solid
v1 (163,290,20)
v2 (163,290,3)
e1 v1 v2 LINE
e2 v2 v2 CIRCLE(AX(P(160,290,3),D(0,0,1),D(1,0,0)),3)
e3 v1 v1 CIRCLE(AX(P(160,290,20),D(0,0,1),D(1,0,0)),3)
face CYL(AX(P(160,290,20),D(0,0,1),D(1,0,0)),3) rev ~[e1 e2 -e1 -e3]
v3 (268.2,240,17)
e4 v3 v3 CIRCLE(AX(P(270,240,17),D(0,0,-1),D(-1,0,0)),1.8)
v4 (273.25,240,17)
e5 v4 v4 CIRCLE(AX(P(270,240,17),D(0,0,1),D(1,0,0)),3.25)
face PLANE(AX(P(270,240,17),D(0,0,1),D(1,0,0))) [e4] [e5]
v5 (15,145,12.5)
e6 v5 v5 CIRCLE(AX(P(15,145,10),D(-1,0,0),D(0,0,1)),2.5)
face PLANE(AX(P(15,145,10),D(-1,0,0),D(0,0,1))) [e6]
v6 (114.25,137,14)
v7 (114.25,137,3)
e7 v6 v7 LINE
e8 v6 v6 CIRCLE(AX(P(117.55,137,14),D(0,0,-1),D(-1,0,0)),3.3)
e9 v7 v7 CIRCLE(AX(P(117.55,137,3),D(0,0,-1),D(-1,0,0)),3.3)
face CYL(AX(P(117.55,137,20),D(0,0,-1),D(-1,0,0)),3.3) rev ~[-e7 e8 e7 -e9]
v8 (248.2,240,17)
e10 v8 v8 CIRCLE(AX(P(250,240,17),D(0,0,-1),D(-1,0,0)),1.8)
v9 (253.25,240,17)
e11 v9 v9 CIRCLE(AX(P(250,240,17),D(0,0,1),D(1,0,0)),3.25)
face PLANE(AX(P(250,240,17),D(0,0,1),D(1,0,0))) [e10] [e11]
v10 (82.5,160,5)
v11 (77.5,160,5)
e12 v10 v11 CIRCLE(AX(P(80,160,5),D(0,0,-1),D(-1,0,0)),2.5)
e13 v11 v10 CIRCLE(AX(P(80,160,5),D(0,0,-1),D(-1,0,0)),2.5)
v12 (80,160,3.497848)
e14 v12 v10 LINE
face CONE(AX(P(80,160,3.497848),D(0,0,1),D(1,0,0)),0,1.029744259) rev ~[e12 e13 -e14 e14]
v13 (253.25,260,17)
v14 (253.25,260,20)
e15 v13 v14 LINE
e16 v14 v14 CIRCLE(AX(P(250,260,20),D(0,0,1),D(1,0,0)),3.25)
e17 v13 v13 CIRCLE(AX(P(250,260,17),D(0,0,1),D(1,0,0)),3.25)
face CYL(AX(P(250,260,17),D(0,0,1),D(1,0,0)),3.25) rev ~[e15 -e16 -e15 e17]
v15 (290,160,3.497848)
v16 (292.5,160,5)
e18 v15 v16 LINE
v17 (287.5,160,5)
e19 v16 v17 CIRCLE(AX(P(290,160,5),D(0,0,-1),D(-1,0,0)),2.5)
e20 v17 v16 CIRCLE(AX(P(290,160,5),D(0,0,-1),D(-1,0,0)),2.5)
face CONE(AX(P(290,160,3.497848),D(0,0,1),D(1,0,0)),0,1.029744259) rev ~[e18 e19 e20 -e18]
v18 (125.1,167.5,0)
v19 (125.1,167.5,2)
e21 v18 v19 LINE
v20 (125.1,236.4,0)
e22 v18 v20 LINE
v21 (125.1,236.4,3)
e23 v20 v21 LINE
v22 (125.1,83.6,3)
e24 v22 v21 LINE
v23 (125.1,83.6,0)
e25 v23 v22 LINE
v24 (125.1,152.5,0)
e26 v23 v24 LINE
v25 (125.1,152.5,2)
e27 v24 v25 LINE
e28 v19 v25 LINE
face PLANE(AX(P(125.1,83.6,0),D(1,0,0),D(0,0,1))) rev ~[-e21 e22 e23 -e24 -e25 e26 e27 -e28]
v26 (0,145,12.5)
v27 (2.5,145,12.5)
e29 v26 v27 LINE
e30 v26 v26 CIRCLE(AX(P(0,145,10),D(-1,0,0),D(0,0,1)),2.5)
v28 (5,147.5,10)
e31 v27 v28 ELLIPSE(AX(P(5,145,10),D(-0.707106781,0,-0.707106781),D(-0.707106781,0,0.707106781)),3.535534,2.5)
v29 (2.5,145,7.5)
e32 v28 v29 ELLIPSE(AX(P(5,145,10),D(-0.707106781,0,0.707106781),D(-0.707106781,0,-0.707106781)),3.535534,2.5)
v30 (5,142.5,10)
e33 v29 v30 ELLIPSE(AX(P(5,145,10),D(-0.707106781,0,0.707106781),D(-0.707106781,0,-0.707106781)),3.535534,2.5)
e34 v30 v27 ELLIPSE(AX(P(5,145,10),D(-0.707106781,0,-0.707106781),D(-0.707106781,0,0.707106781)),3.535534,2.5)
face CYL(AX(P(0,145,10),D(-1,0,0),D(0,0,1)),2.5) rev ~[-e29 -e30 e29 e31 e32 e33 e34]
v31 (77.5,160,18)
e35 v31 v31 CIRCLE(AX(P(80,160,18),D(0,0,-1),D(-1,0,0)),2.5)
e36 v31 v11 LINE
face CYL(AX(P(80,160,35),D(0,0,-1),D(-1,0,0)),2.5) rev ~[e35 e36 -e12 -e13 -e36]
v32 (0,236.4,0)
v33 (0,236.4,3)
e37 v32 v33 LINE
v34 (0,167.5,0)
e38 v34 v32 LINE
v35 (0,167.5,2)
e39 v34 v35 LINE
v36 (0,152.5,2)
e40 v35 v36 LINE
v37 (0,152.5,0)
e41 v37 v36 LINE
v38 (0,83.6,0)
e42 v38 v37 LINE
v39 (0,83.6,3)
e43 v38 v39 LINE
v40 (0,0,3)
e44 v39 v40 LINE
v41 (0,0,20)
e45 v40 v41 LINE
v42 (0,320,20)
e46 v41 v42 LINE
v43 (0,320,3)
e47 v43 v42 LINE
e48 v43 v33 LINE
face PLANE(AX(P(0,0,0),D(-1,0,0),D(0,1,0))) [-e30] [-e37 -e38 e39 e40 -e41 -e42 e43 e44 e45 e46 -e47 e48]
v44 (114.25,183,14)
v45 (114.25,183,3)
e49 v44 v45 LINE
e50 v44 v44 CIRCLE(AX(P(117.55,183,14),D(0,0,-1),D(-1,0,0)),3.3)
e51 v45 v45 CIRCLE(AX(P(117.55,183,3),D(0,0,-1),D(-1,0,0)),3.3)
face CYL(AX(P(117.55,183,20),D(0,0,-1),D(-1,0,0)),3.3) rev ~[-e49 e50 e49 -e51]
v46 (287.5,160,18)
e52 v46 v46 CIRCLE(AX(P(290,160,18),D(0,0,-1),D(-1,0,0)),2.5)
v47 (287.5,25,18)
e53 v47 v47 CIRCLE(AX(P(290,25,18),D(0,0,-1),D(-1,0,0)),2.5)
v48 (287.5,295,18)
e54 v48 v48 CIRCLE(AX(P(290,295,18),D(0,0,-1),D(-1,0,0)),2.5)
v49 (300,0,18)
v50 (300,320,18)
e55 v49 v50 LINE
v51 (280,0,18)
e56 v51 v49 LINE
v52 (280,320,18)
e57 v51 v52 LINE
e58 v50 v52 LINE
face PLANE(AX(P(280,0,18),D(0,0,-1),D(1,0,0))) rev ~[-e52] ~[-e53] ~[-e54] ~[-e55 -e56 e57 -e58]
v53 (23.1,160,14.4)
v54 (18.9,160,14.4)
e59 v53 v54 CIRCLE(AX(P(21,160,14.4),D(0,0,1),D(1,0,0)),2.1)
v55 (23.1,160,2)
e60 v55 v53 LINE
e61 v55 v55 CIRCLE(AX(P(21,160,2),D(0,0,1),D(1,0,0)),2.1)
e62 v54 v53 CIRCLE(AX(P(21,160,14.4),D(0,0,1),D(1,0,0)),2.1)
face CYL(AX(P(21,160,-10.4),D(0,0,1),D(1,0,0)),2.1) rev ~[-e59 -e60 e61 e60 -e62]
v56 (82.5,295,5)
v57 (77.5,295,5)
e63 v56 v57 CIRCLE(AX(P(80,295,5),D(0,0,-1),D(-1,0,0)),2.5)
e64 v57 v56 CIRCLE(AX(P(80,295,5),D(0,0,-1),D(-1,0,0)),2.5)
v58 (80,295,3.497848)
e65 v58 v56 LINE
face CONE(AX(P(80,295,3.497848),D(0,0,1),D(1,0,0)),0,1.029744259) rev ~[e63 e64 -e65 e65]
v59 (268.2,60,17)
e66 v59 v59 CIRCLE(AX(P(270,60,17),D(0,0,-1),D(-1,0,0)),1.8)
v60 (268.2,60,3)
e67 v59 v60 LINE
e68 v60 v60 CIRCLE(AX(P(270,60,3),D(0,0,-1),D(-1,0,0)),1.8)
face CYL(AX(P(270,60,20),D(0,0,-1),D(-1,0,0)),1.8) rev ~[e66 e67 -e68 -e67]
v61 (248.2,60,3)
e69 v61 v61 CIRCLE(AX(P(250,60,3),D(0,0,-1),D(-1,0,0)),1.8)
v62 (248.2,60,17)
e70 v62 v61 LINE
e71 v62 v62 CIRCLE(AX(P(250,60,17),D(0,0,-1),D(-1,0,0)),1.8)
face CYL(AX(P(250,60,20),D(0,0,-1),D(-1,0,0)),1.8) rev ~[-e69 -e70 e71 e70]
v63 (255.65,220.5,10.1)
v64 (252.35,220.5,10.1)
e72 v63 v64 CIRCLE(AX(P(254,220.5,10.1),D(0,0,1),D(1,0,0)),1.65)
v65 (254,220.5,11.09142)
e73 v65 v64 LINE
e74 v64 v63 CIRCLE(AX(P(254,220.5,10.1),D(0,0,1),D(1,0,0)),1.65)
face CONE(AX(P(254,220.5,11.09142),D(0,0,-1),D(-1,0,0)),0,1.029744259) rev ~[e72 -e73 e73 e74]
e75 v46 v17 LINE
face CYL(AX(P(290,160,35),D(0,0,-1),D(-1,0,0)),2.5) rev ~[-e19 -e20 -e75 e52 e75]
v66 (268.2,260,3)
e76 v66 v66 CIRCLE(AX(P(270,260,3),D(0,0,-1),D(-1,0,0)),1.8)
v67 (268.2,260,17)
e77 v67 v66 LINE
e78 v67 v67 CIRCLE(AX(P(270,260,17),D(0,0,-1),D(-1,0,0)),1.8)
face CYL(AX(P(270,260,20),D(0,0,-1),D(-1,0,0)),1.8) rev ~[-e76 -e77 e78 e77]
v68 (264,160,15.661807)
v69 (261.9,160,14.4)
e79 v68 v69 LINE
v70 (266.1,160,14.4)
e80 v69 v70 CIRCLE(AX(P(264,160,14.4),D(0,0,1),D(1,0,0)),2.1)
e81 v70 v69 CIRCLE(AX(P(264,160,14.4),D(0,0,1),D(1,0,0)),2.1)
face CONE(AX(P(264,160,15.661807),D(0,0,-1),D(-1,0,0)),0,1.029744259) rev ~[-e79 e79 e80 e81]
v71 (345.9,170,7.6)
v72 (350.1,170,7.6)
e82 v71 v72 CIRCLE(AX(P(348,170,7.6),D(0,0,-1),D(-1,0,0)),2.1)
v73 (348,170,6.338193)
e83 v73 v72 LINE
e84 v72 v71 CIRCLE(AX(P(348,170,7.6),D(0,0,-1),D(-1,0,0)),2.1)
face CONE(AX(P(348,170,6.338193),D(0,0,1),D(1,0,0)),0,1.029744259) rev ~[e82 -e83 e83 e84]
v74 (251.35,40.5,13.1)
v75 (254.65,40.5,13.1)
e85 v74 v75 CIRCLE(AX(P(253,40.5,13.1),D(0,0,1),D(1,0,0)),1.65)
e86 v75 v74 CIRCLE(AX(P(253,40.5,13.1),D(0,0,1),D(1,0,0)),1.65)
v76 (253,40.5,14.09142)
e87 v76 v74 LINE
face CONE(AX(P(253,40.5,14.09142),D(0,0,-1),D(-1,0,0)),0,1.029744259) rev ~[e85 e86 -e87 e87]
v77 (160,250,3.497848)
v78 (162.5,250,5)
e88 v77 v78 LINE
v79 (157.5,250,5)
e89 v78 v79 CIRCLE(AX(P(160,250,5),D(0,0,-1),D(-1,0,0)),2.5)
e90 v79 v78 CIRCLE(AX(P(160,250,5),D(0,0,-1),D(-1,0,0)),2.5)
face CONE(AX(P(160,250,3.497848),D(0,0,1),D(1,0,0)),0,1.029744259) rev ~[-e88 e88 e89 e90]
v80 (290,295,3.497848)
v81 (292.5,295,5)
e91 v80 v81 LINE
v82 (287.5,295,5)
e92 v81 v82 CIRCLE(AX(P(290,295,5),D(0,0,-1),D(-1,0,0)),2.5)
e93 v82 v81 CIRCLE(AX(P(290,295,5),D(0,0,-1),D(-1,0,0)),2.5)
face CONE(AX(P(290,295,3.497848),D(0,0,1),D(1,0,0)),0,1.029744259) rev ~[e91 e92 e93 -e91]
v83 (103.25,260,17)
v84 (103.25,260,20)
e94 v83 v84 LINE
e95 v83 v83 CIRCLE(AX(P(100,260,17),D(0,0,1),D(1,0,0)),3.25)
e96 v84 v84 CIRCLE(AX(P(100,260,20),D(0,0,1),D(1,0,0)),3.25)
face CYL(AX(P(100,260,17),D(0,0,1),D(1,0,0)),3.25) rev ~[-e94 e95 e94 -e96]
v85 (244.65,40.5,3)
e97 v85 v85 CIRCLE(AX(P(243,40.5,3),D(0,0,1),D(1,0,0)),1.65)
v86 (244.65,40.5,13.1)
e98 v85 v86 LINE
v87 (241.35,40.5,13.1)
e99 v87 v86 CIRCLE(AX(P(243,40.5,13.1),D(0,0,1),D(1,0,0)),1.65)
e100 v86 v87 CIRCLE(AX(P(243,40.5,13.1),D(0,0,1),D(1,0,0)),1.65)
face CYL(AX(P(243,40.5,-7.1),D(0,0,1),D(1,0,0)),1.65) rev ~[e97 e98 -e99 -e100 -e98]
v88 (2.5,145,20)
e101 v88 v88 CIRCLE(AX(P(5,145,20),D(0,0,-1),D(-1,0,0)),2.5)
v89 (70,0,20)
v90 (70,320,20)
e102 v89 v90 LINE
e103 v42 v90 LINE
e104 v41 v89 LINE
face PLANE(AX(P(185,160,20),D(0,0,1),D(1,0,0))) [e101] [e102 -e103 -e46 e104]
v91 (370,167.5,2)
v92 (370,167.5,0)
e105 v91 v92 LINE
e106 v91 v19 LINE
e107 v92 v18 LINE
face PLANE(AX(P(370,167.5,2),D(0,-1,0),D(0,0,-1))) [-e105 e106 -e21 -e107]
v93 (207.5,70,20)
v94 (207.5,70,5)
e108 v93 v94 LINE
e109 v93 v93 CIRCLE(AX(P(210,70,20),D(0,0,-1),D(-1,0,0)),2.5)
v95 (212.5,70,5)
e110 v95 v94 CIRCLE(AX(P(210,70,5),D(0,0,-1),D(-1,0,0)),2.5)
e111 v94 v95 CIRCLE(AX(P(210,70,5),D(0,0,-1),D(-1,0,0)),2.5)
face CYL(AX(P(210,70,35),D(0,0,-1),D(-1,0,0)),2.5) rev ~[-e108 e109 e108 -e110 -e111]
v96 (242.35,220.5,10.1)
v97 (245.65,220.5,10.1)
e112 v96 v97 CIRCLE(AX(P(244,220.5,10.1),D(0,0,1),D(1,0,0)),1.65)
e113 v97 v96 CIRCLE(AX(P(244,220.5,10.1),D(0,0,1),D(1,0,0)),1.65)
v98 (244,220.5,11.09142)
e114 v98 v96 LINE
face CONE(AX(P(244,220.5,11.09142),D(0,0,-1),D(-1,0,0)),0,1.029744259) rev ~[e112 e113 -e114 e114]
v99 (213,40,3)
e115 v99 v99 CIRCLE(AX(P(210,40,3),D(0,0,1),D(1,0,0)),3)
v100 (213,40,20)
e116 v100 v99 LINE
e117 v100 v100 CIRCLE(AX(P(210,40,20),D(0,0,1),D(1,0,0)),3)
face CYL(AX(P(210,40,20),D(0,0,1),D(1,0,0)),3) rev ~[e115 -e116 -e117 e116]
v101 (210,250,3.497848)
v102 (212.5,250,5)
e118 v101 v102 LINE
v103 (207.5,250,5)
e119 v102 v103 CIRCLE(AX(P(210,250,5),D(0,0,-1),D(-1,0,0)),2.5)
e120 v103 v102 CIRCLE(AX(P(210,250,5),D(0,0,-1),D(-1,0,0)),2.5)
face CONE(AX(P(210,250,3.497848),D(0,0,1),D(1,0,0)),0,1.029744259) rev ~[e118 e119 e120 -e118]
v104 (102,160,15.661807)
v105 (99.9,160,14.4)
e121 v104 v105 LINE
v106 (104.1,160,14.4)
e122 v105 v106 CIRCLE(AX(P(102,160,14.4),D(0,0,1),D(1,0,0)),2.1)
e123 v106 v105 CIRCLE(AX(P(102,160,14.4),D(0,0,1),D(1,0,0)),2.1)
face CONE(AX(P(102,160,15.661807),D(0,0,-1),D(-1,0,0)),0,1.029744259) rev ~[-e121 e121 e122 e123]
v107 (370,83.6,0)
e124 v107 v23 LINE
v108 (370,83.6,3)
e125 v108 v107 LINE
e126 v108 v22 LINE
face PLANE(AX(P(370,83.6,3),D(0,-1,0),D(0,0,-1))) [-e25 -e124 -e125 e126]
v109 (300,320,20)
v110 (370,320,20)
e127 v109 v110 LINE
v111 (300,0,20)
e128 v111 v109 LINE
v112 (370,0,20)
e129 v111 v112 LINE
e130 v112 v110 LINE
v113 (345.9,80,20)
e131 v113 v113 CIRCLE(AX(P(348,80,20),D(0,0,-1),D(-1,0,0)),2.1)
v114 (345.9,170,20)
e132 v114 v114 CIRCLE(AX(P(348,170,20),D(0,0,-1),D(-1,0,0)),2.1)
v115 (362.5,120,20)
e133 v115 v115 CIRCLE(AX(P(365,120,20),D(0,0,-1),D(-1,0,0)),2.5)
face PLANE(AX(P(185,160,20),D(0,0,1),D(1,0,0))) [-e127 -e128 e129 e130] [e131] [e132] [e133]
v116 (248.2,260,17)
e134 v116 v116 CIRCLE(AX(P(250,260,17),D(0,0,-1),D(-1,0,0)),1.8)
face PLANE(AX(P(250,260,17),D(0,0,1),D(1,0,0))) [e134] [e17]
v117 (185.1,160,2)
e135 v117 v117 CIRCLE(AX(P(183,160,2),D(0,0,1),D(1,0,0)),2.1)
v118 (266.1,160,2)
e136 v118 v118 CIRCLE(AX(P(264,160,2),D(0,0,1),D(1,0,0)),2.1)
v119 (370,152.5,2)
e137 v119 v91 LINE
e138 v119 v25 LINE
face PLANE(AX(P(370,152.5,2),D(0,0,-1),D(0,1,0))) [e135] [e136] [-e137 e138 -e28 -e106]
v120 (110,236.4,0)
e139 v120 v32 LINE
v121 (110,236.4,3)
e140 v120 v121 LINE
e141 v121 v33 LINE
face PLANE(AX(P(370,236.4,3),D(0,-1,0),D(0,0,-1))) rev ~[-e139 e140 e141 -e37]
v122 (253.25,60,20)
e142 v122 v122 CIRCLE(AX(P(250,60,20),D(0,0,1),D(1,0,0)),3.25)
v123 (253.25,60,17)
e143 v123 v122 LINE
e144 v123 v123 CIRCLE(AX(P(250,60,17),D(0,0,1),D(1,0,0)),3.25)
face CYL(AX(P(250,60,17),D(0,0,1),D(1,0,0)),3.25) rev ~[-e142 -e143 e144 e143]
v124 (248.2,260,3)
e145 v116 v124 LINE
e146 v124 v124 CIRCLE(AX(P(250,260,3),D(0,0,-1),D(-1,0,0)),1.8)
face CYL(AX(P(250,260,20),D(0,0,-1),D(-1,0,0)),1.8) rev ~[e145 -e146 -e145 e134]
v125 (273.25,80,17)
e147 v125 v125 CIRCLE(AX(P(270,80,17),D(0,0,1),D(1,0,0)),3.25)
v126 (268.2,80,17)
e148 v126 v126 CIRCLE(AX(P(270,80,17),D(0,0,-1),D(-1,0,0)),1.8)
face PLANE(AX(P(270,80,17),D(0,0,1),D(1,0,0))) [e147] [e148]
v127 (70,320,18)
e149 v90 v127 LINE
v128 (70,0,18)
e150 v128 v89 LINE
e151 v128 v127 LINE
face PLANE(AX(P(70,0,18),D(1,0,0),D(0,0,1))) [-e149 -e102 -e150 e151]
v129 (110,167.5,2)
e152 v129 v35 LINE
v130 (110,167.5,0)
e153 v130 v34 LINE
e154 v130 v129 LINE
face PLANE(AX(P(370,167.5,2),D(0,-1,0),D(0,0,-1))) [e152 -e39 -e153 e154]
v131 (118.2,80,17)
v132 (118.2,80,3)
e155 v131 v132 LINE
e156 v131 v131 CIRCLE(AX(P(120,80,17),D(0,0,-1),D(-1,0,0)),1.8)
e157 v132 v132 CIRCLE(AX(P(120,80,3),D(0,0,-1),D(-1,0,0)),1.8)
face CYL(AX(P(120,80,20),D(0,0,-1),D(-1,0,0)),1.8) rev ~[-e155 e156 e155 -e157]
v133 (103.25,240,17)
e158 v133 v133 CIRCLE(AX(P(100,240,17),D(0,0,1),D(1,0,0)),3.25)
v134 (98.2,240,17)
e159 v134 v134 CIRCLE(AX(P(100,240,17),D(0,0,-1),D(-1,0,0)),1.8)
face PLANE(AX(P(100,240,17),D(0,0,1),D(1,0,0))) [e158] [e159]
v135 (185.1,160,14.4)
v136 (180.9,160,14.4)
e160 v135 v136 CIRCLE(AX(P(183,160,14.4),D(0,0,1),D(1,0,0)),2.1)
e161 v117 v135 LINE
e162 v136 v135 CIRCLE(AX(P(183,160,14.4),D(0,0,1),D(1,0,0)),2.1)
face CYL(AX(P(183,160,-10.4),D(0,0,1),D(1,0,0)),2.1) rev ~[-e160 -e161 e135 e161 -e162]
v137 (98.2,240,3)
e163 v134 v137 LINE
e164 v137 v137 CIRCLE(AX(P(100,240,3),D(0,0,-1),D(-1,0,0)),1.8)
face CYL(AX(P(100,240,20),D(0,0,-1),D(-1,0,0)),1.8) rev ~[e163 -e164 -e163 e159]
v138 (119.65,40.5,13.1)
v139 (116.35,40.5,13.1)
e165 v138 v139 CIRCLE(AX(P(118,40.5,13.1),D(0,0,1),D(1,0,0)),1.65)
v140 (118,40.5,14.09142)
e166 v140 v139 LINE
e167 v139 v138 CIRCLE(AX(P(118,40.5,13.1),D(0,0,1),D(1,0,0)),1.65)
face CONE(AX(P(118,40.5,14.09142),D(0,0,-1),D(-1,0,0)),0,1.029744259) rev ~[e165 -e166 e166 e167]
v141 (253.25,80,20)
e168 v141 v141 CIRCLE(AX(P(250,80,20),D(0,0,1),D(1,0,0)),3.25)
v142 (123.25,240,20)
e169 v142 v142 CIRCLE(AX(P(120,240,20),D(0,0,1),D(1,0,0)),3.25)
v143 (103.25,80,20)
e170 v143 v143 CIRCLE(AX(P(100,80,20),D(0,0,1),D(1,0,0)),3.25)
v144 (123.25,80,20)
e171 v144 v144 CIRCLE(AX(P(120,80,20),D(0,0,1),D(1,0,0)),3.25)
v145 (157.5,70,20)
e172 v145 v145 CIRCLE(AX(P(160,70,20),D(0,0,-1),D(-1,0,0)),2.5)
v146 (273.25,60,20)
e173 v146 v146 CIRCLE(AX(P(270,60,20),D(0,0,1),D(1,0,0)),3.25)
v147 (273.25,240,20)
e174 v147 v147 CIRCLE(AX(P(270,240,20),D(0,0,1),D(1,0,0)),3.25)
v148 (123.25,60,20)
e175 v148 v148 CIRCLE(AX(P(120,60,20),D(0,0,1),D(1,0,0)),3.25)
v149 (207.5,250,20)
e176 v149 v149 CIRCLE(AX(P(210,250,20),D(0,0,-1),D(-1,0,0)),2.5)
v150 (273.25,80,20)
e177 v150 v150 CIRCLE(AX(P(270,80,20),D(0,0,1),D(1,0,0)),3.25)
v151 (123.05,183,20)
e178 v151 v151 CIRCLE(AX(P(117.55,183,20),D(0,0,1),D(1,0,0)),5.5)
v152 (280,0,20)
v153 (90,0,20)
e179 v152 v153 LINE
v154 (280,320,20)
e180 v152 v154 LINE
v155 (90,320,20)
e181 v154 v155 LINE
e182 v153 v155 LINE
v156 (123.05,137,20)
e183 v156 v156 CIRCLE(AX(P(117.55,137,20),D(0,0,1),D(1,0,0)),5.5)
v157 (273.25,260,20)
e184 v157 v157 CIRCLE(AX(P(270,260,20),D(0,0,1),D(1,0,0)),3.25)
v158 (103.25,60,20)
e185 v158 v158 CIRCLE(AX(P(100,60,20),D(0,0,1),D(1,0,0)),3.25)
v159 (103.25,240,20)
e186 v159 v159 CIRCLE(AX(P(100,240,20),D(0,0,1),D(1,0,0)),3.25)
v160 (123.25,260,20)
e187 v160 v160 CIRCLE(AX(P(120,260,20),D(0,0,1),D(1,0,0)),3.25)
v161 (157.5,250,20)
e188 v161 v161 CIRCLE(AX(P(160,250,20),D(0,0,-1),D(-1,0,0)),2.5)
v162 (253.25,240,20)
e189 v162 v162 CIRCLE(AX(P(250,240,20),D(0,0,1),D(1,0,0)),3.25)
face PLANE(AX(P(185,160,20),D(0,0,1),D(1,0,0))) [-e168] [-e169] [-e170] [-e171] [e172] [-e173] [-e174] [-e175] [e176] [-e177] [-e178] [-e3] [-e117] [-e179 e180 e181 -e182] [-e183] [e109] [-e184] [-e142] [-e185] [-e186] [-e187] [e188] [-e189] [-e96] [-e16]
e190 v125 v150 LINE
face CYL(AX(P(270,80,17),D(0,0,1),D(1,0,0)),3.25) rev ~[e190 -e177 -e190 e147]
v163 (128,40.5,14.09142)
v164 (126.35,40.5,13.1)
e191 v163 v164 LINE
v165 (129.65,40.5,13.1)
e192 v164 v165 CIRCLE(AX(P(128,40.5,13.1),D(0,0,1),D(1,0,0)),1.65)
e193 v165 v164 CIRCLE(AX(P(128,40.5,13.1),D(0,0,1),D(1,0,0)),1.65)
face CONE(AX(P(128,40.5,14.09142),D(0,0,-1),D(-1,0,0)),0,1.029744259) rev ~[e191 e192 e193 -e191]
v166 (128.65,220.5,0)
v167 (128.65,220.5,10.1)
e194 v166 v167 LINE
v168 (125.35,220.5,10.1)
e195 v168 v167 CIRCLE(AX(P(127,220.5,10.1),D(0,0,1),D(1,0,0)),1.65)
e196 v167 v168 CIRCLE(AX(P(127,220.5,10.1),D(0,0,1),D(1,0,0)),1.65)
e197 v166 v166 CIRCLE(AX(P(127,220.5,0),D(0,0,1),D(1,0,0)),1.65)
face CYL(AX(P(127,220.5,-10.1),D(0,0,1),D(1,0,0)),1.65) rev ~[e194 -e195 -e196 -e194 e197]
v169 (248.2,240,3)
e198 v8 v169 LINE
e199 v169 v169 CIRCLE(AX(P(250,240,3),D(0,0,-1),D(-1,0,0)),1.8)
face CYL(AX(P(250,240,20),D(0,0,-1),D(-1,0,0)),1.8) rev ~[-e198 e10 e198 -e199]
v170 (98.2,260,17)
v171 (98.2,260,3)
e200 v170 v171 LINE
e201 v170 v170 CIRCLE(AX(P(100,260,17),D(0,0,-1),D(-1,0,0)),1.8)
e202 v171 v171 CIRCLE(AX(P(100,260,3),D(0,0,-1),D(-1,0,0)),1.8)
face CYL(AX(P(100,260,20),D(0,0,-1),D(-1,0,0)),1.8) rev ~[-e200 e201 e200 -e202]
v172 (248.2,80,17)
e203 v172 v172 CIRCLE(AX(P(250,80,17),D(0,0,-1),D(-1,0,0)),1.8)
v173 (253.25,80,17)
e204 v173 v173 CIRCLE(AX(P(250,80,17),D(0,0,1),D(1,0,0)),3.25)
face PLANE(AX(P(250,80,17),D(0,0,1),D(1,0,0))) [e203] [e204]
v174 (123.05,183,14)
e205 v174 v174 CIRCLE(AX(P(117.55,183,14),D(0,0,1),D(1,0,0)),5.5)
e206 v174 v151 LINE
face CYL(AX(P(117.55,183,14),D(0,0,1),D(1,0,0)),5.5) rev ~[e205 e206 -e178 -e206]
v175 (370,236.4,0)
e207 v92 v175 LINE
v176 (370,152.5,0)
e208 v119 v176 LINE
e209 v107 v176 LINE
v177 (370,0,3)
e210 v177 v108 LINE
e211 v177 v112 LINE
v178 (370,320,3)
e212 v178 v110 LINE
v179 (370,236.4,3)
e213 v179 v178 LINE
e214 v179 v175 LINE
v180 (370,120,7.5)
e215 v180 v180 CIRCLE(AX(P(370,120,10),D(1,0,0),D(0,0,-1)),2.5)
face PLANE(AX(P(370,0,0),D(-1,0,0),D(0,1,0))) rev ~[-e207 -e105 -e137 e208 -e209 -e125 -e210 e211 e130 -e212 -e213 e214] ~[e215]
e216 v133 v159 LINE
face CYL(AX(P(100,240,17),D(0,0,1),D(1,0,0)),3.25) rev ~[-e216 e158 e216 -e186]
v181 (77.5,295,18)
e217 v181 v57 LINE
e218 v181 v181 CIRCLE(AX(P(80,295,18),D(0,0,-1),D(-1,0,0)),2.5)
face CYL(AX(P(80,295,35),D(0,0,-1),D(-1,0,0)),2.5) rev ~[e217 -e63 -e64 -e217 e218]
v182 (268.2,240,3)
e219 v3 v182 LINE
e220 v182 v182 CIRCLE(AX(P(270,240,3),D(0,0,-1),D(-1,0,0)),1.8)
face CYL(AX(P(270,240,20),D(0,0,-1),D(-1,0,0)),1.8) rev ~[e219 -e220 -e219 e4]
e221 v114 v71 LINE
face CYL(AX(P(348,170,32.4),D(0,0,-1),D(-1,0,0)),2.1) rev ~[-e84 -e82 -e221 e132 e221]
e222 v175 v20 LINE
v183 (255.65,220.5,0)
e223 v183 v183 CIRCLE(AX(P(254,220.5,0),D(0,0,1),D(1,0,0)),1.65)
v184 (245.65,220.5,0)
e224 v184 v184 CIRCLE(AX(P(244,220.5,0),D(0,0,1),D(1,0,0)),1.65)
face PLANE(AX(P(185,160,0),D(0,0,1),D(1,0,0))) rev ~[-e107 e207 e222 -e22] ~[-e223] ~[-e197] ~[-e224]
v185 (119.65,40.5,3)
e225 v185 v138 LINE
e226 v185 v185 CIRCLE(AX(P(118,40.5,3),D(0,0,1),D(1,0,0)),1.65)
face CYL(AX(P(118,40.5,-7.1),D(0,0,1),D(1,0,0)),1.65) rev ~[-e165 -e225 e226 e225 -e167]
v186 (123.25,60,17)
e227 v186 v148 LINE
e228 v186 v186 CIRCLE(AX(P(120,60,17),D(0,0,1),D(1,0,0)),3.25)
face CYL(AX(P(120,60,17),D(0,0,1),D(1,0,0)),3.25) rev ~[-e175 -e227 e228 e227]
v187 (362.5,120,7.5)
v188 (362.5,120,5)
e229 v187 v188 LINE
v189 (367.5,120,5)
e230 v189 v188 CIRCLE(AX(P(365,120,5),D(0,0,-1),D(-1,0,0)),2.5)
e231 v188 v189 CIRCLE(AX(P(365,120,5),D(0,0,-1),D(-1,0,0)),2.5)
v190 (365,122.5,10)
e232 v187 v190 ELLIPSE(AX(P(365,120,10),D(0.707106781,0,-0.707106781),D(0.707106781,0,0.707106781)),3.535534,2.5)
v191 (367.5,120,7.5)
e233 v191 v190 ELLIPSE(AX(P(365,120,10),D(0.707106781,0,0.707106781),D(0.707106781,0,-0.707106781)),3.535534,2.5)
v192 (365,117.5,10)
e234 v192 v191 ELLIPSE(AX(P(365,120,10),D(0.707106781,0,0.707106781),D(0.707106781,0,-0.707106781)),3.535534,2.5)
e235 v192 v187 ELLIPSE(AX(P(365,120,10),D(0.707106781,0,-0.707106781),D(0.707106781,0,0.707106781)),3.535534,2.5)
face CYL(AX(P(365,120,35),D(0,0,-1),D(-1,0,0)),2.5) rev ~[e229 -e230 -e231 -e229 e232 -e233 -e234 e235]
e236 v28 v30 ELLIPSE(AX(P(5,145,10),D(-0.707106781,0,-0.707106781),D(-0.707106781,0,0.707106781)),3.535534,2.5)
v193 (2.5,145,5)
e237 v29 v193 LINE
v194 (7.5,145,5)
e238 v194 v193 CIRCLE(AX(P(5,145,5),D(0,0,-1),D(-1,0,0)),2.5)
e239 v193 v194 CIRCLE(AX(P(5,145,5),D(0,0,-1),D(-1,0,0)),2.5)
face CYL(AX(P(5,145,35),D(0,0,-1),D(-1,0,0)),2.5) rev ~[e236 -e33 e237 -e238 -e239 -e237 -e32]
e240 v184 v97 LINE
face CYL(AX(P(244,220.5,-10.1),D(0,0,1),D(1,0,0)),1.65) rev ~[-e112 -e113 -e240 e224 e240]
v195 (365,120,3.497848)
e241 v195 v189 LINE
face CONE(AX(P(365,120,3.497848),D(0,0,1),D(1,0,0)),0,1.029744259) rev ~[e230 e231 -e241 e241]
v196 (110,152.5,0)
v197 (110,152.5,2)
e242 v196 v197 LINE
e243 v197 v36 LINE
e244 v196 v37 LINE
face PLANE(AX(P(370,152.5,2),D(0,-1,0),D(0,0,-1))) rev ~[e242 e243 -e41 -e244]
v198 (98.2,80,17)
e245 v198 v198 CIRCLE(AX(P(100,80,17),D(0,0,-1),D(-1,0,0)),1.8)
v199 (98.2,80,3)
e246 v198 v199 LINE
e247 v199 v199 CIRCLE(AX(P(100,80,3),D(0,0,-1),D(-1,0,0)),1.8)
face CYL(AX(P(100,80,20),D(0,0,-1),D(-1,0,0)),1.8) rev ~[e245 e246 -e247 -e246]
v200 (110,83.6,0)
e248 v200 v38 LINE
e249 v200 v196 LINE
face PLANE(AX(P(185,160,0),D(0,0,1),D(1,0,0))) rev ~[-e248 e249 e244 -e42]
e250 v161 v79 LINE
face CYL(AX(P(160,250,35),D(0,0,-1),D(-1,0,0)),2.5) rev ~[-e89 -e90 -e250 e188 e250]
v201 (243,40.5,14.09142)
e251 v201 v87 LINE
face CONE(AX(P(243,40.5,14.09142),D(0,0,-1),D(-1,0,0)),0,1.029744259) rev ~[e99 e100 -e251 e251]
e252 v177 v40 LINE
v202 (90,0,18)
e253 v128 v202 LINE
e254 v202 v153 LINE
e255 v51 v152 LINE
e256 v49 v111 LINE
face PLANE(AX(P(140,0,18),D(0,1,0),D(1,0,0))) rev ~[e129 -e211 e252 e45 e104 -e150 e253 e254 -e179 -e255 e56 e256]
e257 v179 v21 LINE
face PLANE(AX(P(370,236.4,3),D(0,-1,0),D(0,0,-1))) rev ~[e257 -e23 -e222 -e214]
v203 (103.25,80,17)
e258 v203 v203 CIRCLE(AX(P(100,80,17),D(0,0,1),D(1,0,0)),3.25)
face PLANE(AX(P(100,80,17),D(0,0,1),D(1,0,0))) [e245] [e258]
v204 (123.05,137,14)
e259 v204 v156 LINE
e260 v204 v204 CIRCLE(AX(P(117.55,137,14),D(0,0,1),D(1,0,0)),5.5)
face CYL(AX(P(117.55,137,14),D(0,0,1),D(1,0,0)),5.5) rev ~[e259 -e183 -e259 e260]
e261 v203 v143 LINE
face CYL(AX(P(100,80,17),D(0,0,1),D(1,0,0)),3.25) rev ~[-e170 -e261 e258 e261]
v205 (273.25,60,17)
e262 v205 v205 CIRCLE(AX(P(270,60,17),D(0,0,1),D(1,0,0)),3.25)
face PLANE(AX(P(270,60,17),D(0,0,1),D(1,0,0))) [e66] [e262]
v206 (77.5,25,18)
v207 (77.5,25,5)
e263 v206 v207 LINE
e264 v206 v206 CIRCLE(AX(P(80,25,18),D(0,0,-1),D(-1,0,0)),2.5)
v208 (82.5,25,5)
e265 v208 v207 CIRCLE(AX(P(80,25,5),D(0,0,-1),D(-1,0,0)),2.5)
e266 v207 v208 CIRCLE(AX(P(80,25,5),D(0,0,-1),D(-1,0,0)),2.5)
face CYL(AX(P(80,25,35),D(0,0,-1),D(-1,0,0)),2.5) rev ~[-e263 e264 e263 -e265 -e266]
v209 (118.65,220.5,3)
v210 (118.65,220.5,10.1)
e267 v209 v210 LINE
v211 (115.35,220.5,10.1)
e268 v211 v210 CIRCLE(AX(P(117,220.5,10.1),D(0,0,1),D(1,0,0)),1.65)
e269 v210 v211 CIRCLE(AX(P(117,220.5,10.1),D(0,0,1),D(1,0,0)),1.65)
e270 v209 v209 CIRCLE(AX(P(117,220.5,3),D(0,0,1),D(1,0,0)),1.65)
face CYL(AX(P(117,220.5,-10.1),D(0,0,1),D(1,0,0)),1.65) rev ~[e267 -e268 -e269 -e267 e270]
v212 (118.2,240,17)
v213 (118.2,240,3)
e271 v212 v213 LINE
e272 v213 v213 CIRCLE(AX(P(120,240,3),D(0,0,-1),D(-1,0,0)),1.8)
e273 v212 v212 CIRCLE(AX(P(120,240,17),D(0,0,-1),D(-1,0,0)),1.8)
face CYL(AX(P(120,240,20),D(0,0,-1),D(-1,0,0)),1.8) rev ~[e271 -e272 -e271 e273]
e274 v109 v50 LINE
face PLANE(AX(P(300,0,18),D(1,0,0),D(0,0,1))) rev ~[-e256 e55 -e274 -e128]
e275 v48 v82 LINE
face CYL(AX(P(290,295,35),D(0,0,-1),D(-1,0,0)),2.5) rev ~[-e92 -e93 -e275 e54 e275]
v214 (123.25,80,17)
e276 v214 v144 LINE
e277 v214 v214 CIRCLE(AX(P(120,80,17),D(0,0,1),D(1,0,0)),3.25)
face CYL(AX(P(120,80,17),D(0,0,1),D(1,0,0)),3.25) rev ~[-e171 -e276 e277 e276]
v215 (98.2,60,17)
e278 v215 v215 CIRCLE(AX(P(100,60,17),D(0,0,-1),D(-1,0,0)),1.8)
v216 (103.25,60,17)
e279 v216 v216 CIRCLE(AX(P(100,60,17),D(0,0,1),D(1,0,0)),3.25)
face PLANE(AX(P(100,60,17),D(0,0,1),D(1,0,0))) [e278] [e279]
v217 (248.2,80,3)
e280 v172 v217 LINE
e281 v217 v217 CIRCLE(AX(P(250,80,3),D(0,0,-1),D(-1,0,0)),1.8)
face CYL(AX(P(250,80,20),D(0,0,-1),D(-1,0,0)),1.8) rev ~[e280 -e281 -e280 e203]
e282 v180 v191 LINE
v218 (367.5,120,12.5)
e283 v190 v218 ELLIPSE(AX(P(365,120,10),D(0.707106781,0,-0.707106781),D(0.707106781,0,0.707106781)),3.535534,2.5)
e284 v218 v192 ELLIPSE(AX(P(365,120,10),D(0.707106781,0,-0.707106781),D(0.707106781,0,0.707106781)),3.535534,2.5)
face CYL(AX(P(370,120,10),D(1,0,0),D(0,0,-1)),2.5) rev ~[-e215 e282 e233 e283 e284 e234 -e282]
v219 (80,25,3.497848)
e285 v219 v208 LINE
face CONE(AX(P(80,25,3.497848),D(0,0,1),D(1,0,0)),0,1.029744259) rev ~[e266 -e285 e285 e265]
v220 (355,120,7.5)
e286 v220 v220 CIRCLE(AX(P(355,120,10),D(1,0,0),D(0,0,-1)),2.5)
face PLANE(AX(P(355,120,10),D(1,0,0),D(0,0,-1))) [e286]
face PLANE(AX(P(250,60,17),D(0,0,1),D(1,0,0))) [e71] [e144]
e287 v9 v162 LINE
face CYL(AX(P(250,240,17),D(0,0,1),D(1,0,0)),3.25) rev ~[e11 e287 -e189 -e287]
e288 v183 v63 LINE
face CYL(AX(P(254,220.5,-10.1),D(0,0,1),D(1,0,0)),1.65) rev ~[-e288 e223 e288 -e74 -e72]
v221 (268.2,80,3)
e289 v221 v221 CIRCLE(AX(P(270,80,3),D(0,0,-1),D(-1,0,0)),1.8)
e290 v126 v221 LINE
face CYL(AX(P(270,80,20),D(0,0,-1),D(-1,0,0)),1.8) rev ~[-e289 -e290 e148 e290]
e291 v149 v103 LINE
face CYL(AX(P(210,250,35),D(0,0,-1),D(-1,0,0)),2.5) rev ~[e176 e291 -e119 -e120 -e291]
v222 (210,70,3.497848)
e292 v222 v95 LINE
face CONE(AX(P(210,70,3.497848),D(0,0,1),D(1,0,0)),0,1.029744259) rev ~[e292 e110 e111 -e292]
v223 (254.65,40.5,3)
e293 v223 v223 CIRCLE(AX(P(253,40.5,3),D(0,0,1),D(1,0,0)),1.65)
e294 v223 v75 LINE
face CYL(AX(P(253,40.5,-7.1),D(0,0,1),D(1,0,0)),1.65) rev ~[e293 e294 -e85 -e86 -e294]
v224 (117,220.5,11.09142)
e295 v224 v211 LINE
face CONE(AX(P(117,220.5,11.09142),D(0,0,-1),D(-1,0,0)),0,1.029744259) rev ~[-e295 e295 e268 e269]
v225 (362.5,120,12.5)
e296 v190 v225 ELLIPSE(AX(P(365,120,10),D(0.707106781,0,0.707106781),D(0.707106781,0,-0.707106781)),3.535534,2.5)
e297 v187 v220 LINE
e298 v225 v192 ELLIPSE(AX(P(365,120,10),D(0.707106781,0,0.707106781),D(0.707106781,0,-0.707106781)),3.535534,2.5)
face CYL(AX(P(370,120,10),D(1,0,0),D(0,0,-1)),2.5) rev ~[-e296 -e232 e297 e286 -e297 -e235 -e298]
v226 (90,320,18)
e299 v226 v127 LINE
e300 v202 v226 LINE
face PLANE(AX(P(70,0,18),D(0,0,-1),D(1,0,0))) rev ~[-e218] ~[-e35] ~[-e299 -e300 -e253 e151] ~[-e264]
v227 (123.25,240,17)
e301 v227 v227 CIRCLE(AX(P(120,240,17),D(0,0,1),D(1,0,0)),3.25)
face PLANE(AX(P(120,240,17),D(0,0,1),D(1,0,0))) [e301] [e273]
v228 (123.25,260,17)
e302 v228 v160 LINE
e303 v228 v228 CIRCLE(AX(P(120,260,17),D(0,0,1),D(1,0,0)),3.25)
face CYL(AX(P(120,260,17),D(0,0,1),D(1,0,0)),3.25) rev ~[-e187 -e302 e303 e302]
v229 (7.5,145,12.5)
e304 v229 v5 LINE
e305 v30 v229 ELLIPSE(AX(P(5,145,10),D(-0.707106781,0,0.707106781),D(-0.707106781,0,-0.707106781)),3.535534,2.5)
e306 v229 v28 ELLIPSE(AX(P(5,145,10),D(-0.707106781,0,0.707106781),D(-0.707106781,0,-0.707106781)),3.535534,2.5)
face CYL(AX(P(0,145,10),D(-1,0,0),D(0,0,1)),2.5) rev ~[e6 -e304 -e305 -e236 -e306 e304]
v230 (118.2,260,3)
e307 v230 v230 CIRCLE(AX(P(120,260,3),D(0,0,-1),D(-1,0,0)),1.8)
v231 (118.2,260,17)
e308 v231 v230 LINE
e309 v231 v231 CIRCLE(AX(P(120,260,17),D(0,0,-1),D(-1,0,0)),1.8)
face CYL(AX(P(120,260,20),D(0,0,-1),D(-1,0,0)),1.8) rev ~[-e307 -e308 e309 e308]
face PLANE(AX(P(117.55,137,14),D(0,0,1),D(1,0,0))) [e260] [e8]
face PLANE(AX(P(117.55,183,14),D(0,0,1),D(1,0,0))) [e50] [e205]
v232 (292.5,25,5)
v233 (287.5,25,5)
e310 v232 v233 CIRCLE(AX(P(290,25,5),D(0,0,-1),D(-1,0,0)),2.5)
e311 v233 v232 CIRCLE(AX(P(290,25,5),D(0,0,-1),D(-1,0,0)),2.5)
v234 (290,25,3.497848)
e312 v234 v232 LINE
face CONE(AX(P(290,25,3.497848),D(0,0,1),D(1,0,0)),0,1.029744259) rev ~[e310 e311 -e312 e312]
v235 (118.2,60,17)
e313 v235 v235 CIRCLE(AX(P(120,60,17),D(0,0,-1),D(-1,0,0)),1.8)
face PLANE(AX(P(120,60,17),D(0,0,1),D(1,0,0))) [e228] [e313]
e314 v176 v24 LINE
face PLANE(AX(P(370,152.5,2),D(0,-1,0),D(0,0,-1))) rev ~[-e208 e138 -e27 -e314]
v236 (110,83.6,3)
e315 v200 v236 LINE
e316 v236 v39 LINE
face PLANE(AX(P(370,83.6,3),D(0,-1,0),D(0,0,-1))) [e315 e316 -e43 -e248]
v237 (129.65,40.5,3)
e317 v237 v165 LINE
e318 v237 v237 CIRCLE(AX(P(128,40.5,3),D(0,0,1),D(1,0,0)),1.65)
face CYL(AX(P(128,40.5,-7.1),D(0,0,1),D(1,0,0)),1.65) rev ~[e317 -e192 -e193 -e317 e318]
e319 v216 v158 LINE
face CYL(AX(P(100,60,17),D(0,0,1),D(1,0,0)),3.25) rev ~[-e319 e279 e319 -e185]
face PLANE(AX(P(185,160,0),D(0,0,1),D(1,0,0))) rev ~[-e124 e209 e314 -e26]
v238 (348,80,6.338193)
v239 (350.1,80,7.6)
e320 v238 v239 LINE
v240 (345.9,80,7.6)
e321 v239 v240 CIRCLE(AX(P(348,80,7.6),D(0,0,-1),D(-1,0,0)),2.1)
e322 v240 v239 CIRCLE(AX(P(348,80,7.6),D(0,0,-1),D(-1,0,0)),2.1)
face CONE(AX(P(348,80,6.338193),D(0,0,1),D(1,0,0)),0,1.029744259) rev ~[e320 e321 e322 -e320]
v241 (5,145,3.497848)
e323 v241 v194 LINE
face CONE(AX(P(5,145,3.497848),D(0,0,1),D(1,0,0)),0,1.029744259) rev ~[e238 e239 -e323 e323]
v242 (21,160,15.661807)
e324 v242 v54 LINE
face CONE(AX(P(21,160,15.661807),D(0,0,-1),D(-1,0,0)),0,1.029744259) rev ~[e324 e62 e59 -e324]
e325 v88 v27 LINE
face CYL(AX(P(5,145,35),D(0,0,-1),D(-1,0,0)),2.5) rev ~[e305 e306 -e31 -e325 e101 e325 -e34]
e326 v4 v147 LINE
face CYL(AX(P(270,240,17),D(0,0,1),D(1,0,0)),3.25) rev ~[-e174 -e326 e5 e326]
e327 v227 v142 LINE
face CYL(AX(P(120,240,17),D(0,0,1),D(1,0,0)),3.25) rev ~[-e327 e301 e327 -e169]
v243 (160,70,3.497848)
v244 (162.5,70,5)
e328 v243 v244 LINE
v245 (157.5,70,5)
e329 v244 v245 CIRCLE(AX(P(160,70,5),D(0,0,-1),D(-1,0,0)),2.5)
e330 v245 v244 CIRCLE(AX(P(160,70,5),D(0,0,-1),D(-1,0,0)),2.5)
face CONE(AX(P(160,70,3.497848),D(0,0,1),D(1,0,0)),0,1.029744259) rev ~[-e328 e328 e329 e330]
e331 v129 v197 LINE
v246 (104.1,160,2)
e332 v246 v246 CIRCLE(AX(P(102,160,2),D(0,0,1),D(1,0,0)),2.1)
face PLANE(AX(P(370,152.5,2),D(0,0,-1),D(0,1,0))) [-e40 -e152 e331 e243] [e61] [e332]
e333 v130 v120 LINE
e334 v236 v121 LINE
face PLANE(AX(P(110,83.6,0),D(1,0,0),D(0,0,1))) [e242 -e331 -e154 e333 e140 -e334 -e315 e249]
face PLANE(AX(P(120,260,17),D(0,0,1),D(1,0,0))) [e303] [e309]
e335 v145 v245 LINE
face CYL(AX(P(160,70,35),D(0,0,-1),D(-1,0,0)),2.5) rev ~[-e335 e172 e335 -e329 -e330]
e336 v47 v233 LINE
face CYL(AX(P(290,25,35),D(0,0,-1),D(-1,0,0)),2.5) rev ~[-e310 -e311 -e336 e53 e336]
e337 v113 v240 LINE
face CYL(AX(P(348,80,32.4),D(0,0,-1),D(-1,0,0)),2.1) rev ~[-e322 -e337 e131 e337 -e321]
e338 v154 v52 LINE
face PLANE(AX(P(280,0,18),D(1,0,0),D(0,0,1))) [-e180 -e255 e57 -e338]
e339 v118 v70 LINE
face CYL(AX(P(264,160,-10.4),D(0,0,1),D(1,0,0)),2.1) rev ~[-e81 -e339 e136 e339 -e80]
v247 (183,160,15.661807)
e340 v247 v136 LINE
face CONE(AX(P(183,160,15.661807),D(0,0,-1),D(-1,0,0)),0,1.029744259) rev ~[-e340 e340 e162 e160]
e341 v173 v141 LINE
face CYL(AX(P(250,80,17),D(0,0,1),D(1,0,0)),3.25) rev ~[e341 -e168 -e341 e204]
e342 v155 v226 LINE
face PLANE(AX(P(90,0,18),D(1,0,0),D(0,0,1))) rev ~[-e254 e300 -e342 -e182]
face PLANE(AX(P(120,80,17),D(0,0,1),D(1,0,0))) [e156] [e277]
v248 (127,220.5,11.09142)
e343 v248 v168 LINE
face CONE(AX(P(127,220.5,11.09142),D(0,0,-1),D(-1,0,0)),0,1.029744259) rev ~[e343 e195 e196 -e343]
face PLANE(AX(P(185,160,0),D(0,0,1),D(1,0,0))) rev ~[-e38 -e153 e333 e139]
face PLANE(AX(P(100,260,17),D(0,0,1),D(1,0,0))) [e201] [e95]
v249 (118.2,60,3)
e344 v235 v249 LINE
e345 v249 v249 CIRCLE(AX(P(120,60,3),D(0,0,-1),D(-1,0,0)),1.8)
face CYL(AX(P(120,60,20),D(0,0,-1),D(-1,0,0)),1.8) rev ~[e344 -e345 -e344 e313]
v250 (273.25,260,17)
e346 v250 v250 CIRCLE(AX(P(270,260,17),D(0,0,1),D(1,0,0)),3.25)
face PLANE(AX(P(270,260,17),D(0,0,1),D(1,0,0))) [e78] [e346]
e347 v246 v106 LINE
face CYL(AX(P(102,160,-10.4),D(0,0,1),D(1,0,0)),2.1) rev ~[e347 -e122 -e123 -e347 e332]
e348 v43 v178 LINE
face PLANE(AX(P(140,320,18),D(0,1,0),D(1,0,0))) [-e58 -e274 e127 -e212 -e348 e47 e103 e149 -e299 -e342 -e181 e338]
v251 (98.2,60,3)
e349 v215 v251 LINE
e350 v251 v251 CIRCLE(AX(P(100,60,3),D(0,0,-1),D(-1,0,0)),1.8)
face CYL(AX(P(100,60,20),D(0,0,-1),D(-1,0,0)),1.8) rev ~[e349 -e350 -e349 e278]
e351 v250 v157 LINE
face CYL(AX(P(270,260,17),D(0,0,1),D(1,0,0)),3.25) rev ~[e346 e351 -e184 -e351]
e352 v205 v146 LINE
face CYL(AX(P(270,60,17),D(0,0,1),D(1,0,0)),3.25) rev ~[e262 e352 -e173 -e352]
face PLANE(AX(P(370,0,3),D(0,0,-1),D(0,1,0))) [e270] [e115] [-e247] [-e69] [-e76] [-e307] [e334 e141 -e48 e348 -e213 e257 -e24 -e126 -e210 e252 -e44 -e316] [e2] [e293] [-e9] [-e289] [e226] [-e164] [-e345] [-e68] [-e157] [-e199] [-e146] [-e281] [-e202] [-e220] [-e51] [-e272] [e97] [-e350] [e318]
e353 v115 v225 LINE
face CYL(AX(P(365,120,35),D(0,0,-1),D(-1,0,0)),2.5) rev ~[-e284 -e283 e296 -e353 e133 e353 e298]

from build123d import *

# Parameters (mm, degrees)
SKETCH_1_W                     = 370
SKETCH_1_H                     = 320
EXTRUDE_1_DEPTH                = 20
SKETCH_2_W                     = 3
SKETCH_2_H                     = 83.6
CUT_EXTRUDE_1_DEPTH            = 490.591666596
SKETCH_3_W                     = 90
SKETCH_3_H                     = 2
CUT_EXTRUDE_2_DEPTH            = 490.591666596
SKETCH_4_W                     = 20
SKETCH_4_H                     = 2
CUT_EXTRUDE_3_DEPTH            = 490.591666596
SKETCH_6_W                     = 90
SKETCH_6_H                     = 320
EXTRUDE_2_DEPTH                = 2
SKETCH_5_W                     = 2
SKETCH_5_H                     = 15
CUT_EXTRUDE_4_DEPTH            = 490.591666596
SKETCH_7_R                     = 2.5
CUT_EXTRUDE_5_DEPTH            = 15
HOLE_WIZARD_M6_1_D             = 5
HOLE_WIZARD_M6_1_DEPTH         = 15
HOLE_WIZARD_M6_1_TIP           = 1.502151548
SKETCH_10_R                    = 2.5
CUT_EXTRUDE_6_DEPTH            = 15
HOLE_WIZARD_M6_2_D             = 5
HOLE_WIZARD_M6_2_DEPTH         = 15
HOLE_WIZARD_M6_2_TIP           = 1.502151548
SKETCH_13_R                    = 3
CUT_EXTRUDE_7_DEPTH            = 490.591666596
HOLE_WIZARD_M6_3_D             = 5
HOLE_WIZARD_M6_3_DEPTH         = 15
HOLE_WIZARD_M6_3_TIP           = 1.502151548
HOLE_WIZARD_M3_1_D             = 3.6
HOLE_WIZARD_M3_1_CBORE_D       = 6.5
HOLE_WIZARD_M3_1_CBORE_DEPTH   = 3
HOLE_WIZARD_M3_2_D             = 3.6
HOLE_WIZARD_M3_2_CBORE_D       = 6.5
HOLE_WIZARD_M3_2_CBORE_DEPTH   = 3
HOLE_WIZARD_M5_1_D             = 4.2
HOLE_WIZARD_M5_1_DEPTH         = 12.4
HOLE_WIZARD_M5_1_TIP           = 1.2618073
HOLE_WIZARD_M4_2_D             = 3.3
HOLE_WIZARD_M4_2_DEPTH         = 10.1
HOLE_WIZARD_M4_2_TIP           = 0.991420021
HOLE_WIZARD_M4_3_D             = 3.3
HOLE_WIZARD_M4_3_DEPTH         = 10.1
HOLE_WIZARD_M4_3_TIP           = 0.991420021
HOLE_WIZARD_M5_2_D             = 4.2
HOLE_WIZARD_M5_2_DEPTH         = 12.4
HOLE_WIZARD_M5_2_TIP           = 1.2618073
SKETCH_30_W                    = 15.1
SKETCH_30_H                    = 3
CUT_EXTRUDE_8_DEPTH            = 440.528110591
HOLE_WIZARD_M6_1_2_D           = 6.6
HOLE_WIZARD_M6_1_2_CBORE_D     = 11
HOLE_WIZARD_M6_1_2_CBORE_DEPTH = 6


with BuildPart() as part:
    # 草图1 → 凸台-拉伸1 (new body)
    with BuildSketch(Plane.XY):
        with Locations((185, 160)):
            Rectangle(SKETCH_1_W, SKETCH_1_H)
    extrude(amount=EXTRUDE_1_DEPTH)

    # 草图2 → 切除-拉伸1 (cut, through all)
    with BuildSketch(Plane(origin=(370, 0, 0), x_dir=(0, 0, -1), z_dir=(1, 0, 0))):
        with Locations((-1.5, 41.8)):
            Rectangle(SKETCH_2_W, SKETCH_2_H)
        with Locations((-1.5, 278.2)):
            Rectangle(SKETCH_2_W, SKETCH_2_H)
    extrude(amount=-CUT_EXTRUDE_1_DEPTH, mode=Mode.SUBTRACT)

    # 草图3 → 切除-拉伸2 (cut, through all)
    with BuildSketch(Plane.XZ):
        with Locations((185, 19)):
            Rectangle(SKETCH_3_W, SKETCH_3_H)
    extrude(amount=-CUT_EXTRUDE_2_DEPTH, mode=Mode.SUBTRACT)

    # 草图4 → 切除-拉伸3 (cut, through all)
    with BuildSketch(Plane.XZ):
        with Locations((80, 19)):
            Rectangle(SKETCH_4_W, SKETCH_4_H)
        with Locations((290, 19)):
            Rectangle(SKETCH_4_W, SKETCH_4_H)
    extrude(amount=-CUT_EXTRUDE_3_DEPTH, mode=Mode.SUBTRACT)

    # 草图6 → 凸台-拉伸2 (add)
    with BuildSketch(Plane.XY.offset(18)):
        with Locations((185, 160)):
            Rectangle(SKETCH_6_W, SKETCH_6_H)
    extrude(amount=EXTRUDE_2_DEPTH)

    # 草图5 → 切除-拉伸4 (cut, through all)
    with BuildSketch(Plane(origin=(370, 0, 0), x_dir=(0, 0, -1), z_dir=(1, 0, 0))):
        with Locations((-1, 160)):
            Rectangle(SKETCH_5_W, SKETCH_5_H)
    extrude(amount=-CUT_EXTRUDE_4_DEPTH, mode=Mode.SUBTRACT)

    # 草图7 → 切除-拉伸5 (cut)
    with BuildSketch(Plane.ZY):
        with Locations((10, 145)):
            Circle(SKETCH_7_R)
    extrude(amount=-CUT_EXTRUDE_5_DEPTH, mode=Mode.SUBTRACT)

    # Hole Wizard M6 _1
    with Locations(Plane.XY.offset(20)):
        with Locations((5, 145)):
            Hole(HOLE_WIZARD_M6_1_D / 2, depth=HOLE_WIZARD_M6_1_DEPTH)
            with Locations((0, 0, -(HOLE_WIZARD_M6_1_DEPTH + HOLE_WIZARD_M6_1_TIP / 2))):  # 118° drill point
                Cone(0, HOLE_WIZARD_M6_1_D / 2, HOLE_WIZARD_M6_1_TIP, mode=Mode.SUBTRACT)

    # 草图10 → 切除-拉伸6 (cut)
    with BuildSketch(Plane(origin=(370, 0, 0), x_dir=(0, 0, -1), z_dir=(1, 0, 0))):
        with Locations((-10, 120)):
            Circle(SKETCH_10_R)
    extrude(amount=-CUT_EXTRUDE_6_DEPTH, mode=Mode.SUBTRACT)

    # M6 螺纹孔2
    with Locations(Plane.XY.offset(20)):
        with Locations((365, 120)):
            Hole(HOLE_WIZARD_M6_2_D / 2, depth=HOLE_WIZARD_M6_2_DEPTH)
            with Locations((0, 0, -(HOLE_WIZARD_M6_2_DEPTH + HOLE_WIZARD_M6_2_TIP / 2))):  # 118° drill point
                Cone(0, HOLE_WIZARD_M6_2_D / 2, HOLE_WIZARD_M6_2_TIP, mode=Mode.SUBTRACT)

    # 草图13 → 切除-拉伸7 (cut, through all)
    with BuildSketch(Plane.XY.offset(20)):
        with Locations((210, 40)):
            Circle(SKETCH_13_R)
        with Locations((160, 290)):
            Circle(SKETCH_13_R)
    extrude(amount=-CUT_EXTRUDE_7_DEPTH, mode=Mode.SUBTRACT)

    # M6 螺纹孔3
    with Locations(Plane.XY.offset(20)):
        with Locations((160, 70), (210, 70), (160, 250), (210, 250), (290, 25), (290, 160), (290, 295), (80, 295), (80, 160), (80, 25)):
            Hole(HOLE_WIZARD_M6_3_D / 2, depth=HOLE_WIZARD_M6_3_DEPTH)
            with Locations((0, 0, -(HOLE_WIZARD_M6_3_DEPTH + HOLE_WIZARD_M6_3_TIP / 2))):  # 118° drill point
                Cone(0, HOLE_WIZARD_M6_3_D / 2, HOLE_WIZARD_M6_3_TIP, mode=Mode.SUBTRACT)

    # M3 六角凹头螺钉的柱形沉头孔1 (through all)
    with Locations(Plane.XY.offset(20)):
        with Locations((270, 80), (250, 60), (250, 80), (270, 60), (120, 60), (100, 60), (100, 80), (120, 80)):
            CounterBoreHole(HOLE_WIZARD_M3_1_D / 2, HOLE_WIZARD_M3_1_CBORE_D / 2, HOLE_WIZARD_M3_1_CBORE_DEPTH)

    # M3 六角凹头螺钉的柱形沉头孔2 (through all)
    with Locations(Plane.XY.offset(20)):
        with Locations((100, 260), (270, 260), (250, 260), (250, 240), (270, 240), (120, 260), (100, 240), (120, 240)):
            CounterBoreHole(HOLE_WIZARD_M3_2_D / 2, HOLE_WIZARD_M3_2_CBORE_D / 2, HOLE_WIZARD_M3_2_CBORE_DEPTH)

    # M5 螺纹孔1
    with Locations(Plane(origin=(0, 0, 2), x_dir=(-1, 0, 0), z_dir=(0, 0, -1))):
        with Locations((-264, 160), (-183, 160), (-21, 160), (-102, 160)):
            Hole(HOLE_WIZARD_M5_1_D / 2, depth=HOLE_WIZARD_M5_1_DEPTH)
            with Locations((0, 0, -(HOLE_WIZARD_M5_1_DEPTH + HOLE_WIZARD_M5_1_TIP / 2))):  # 118° drill point
                Cone(0, HOLE_WIZARD_M5_1_D / 2, HOLE_WIZARD_M5_1_TIP, mode=Mode.SUBTRACT)

    # M4 螺纹孔2
    with Locations(Plane(origin=(0, 0, 0), x_dir=(-1, 0, 0), z_dir=(0, 0, -1))):
        with Locations((-117, 220.5), (-127, 220.5), (-244, 220.5), (-254, 220.5)):
            Hole(HOLE_WIZARD_M4_2_D / 2, depth=HOLE_WIZARD_M4_2_DEPTH)
            with Locations((0, 0, -(HOLE_WIZARD_M4_2_DEPTH + HOLE_WIZARD_M4_2_TIP / 2))):  # 118° drill point
                Cone(0, HOLE_WIZARD_M4_2_D / 2, HOLE_WIZARD_M4_2_TIP, mode=Mode.SUBTRACT)

    # M4 螺纹孔3
    with Locations(Plane(origin=(0, 0, 3), x_dir=(-1, 0, 0), z_dir=(0, 0, -1))):
        with Locations((-253, 40.5), (-243, 40.5), (-128, 40.5), (-118, 40.5)):
            Hole(HOLE_WIZARD_M4_3_D / 2, depth=HOLE_WIZARD_M4_3_DEPTH)
            with Locations((0, 0, -(HOLE_WIZARD_M4_3_DEPTH + HOLE_WIZARD_M4_3_TIP / 2))):  # 118° drill point
                Cone(0, HOLE_WIZARD_M4_3_D / 2, HOLE_WIZARD_M4_3_TIP, mode=Mode.SUBTRACT)

    # M5 螺纹孔2
    with Locations(Plane.XY.offset(20)):
        with Locations((348, 80), (348, 170)):
            Hole(HOLE_WIZARD_M5_2_D / 2, depth=HOLE_WIZARD_M5_2_DEPTH)
            with Locations((0, 0, -(HOLE_WIZARD_M5_2_DEPTH + HOLE_WIZARD_M5_2_TIP / 2))):  # 118° drill point
                Cone(0, HOLE_WIZARD_M5_2_D / 2, HOLE_WIZARD_M5_2_TIP, mode=Mode.SUBTRACT)

    # 草图30 → 切除-拉伸8 (cut, through all)
    with BuildSketch(Plane.XZ.offset(-83.6)):
        with Locations((117.55, 1.5)):
            Rectangle(SKETCH_30_W, SKETCH_30_H)
    extrude(amount=-CUT_EXTRUDE_8_DEPTH, mode=Mode.SUBTRACT)

    # Hole Wizard M6 _1 2 (through all)
    with Locations(Plane.XY.offset(20)):
        with Locations((117.55, 137), (117.55, 183)):
            CounterBoreHole(HOLE_WIZARD_M6_1_2_D / 2, HOLE_WIZARD_M6_1_2_CBORE_D / 2, HOLE_WIZARD_M6_1_2_CBORE_DEPTH)


solid = part.part
